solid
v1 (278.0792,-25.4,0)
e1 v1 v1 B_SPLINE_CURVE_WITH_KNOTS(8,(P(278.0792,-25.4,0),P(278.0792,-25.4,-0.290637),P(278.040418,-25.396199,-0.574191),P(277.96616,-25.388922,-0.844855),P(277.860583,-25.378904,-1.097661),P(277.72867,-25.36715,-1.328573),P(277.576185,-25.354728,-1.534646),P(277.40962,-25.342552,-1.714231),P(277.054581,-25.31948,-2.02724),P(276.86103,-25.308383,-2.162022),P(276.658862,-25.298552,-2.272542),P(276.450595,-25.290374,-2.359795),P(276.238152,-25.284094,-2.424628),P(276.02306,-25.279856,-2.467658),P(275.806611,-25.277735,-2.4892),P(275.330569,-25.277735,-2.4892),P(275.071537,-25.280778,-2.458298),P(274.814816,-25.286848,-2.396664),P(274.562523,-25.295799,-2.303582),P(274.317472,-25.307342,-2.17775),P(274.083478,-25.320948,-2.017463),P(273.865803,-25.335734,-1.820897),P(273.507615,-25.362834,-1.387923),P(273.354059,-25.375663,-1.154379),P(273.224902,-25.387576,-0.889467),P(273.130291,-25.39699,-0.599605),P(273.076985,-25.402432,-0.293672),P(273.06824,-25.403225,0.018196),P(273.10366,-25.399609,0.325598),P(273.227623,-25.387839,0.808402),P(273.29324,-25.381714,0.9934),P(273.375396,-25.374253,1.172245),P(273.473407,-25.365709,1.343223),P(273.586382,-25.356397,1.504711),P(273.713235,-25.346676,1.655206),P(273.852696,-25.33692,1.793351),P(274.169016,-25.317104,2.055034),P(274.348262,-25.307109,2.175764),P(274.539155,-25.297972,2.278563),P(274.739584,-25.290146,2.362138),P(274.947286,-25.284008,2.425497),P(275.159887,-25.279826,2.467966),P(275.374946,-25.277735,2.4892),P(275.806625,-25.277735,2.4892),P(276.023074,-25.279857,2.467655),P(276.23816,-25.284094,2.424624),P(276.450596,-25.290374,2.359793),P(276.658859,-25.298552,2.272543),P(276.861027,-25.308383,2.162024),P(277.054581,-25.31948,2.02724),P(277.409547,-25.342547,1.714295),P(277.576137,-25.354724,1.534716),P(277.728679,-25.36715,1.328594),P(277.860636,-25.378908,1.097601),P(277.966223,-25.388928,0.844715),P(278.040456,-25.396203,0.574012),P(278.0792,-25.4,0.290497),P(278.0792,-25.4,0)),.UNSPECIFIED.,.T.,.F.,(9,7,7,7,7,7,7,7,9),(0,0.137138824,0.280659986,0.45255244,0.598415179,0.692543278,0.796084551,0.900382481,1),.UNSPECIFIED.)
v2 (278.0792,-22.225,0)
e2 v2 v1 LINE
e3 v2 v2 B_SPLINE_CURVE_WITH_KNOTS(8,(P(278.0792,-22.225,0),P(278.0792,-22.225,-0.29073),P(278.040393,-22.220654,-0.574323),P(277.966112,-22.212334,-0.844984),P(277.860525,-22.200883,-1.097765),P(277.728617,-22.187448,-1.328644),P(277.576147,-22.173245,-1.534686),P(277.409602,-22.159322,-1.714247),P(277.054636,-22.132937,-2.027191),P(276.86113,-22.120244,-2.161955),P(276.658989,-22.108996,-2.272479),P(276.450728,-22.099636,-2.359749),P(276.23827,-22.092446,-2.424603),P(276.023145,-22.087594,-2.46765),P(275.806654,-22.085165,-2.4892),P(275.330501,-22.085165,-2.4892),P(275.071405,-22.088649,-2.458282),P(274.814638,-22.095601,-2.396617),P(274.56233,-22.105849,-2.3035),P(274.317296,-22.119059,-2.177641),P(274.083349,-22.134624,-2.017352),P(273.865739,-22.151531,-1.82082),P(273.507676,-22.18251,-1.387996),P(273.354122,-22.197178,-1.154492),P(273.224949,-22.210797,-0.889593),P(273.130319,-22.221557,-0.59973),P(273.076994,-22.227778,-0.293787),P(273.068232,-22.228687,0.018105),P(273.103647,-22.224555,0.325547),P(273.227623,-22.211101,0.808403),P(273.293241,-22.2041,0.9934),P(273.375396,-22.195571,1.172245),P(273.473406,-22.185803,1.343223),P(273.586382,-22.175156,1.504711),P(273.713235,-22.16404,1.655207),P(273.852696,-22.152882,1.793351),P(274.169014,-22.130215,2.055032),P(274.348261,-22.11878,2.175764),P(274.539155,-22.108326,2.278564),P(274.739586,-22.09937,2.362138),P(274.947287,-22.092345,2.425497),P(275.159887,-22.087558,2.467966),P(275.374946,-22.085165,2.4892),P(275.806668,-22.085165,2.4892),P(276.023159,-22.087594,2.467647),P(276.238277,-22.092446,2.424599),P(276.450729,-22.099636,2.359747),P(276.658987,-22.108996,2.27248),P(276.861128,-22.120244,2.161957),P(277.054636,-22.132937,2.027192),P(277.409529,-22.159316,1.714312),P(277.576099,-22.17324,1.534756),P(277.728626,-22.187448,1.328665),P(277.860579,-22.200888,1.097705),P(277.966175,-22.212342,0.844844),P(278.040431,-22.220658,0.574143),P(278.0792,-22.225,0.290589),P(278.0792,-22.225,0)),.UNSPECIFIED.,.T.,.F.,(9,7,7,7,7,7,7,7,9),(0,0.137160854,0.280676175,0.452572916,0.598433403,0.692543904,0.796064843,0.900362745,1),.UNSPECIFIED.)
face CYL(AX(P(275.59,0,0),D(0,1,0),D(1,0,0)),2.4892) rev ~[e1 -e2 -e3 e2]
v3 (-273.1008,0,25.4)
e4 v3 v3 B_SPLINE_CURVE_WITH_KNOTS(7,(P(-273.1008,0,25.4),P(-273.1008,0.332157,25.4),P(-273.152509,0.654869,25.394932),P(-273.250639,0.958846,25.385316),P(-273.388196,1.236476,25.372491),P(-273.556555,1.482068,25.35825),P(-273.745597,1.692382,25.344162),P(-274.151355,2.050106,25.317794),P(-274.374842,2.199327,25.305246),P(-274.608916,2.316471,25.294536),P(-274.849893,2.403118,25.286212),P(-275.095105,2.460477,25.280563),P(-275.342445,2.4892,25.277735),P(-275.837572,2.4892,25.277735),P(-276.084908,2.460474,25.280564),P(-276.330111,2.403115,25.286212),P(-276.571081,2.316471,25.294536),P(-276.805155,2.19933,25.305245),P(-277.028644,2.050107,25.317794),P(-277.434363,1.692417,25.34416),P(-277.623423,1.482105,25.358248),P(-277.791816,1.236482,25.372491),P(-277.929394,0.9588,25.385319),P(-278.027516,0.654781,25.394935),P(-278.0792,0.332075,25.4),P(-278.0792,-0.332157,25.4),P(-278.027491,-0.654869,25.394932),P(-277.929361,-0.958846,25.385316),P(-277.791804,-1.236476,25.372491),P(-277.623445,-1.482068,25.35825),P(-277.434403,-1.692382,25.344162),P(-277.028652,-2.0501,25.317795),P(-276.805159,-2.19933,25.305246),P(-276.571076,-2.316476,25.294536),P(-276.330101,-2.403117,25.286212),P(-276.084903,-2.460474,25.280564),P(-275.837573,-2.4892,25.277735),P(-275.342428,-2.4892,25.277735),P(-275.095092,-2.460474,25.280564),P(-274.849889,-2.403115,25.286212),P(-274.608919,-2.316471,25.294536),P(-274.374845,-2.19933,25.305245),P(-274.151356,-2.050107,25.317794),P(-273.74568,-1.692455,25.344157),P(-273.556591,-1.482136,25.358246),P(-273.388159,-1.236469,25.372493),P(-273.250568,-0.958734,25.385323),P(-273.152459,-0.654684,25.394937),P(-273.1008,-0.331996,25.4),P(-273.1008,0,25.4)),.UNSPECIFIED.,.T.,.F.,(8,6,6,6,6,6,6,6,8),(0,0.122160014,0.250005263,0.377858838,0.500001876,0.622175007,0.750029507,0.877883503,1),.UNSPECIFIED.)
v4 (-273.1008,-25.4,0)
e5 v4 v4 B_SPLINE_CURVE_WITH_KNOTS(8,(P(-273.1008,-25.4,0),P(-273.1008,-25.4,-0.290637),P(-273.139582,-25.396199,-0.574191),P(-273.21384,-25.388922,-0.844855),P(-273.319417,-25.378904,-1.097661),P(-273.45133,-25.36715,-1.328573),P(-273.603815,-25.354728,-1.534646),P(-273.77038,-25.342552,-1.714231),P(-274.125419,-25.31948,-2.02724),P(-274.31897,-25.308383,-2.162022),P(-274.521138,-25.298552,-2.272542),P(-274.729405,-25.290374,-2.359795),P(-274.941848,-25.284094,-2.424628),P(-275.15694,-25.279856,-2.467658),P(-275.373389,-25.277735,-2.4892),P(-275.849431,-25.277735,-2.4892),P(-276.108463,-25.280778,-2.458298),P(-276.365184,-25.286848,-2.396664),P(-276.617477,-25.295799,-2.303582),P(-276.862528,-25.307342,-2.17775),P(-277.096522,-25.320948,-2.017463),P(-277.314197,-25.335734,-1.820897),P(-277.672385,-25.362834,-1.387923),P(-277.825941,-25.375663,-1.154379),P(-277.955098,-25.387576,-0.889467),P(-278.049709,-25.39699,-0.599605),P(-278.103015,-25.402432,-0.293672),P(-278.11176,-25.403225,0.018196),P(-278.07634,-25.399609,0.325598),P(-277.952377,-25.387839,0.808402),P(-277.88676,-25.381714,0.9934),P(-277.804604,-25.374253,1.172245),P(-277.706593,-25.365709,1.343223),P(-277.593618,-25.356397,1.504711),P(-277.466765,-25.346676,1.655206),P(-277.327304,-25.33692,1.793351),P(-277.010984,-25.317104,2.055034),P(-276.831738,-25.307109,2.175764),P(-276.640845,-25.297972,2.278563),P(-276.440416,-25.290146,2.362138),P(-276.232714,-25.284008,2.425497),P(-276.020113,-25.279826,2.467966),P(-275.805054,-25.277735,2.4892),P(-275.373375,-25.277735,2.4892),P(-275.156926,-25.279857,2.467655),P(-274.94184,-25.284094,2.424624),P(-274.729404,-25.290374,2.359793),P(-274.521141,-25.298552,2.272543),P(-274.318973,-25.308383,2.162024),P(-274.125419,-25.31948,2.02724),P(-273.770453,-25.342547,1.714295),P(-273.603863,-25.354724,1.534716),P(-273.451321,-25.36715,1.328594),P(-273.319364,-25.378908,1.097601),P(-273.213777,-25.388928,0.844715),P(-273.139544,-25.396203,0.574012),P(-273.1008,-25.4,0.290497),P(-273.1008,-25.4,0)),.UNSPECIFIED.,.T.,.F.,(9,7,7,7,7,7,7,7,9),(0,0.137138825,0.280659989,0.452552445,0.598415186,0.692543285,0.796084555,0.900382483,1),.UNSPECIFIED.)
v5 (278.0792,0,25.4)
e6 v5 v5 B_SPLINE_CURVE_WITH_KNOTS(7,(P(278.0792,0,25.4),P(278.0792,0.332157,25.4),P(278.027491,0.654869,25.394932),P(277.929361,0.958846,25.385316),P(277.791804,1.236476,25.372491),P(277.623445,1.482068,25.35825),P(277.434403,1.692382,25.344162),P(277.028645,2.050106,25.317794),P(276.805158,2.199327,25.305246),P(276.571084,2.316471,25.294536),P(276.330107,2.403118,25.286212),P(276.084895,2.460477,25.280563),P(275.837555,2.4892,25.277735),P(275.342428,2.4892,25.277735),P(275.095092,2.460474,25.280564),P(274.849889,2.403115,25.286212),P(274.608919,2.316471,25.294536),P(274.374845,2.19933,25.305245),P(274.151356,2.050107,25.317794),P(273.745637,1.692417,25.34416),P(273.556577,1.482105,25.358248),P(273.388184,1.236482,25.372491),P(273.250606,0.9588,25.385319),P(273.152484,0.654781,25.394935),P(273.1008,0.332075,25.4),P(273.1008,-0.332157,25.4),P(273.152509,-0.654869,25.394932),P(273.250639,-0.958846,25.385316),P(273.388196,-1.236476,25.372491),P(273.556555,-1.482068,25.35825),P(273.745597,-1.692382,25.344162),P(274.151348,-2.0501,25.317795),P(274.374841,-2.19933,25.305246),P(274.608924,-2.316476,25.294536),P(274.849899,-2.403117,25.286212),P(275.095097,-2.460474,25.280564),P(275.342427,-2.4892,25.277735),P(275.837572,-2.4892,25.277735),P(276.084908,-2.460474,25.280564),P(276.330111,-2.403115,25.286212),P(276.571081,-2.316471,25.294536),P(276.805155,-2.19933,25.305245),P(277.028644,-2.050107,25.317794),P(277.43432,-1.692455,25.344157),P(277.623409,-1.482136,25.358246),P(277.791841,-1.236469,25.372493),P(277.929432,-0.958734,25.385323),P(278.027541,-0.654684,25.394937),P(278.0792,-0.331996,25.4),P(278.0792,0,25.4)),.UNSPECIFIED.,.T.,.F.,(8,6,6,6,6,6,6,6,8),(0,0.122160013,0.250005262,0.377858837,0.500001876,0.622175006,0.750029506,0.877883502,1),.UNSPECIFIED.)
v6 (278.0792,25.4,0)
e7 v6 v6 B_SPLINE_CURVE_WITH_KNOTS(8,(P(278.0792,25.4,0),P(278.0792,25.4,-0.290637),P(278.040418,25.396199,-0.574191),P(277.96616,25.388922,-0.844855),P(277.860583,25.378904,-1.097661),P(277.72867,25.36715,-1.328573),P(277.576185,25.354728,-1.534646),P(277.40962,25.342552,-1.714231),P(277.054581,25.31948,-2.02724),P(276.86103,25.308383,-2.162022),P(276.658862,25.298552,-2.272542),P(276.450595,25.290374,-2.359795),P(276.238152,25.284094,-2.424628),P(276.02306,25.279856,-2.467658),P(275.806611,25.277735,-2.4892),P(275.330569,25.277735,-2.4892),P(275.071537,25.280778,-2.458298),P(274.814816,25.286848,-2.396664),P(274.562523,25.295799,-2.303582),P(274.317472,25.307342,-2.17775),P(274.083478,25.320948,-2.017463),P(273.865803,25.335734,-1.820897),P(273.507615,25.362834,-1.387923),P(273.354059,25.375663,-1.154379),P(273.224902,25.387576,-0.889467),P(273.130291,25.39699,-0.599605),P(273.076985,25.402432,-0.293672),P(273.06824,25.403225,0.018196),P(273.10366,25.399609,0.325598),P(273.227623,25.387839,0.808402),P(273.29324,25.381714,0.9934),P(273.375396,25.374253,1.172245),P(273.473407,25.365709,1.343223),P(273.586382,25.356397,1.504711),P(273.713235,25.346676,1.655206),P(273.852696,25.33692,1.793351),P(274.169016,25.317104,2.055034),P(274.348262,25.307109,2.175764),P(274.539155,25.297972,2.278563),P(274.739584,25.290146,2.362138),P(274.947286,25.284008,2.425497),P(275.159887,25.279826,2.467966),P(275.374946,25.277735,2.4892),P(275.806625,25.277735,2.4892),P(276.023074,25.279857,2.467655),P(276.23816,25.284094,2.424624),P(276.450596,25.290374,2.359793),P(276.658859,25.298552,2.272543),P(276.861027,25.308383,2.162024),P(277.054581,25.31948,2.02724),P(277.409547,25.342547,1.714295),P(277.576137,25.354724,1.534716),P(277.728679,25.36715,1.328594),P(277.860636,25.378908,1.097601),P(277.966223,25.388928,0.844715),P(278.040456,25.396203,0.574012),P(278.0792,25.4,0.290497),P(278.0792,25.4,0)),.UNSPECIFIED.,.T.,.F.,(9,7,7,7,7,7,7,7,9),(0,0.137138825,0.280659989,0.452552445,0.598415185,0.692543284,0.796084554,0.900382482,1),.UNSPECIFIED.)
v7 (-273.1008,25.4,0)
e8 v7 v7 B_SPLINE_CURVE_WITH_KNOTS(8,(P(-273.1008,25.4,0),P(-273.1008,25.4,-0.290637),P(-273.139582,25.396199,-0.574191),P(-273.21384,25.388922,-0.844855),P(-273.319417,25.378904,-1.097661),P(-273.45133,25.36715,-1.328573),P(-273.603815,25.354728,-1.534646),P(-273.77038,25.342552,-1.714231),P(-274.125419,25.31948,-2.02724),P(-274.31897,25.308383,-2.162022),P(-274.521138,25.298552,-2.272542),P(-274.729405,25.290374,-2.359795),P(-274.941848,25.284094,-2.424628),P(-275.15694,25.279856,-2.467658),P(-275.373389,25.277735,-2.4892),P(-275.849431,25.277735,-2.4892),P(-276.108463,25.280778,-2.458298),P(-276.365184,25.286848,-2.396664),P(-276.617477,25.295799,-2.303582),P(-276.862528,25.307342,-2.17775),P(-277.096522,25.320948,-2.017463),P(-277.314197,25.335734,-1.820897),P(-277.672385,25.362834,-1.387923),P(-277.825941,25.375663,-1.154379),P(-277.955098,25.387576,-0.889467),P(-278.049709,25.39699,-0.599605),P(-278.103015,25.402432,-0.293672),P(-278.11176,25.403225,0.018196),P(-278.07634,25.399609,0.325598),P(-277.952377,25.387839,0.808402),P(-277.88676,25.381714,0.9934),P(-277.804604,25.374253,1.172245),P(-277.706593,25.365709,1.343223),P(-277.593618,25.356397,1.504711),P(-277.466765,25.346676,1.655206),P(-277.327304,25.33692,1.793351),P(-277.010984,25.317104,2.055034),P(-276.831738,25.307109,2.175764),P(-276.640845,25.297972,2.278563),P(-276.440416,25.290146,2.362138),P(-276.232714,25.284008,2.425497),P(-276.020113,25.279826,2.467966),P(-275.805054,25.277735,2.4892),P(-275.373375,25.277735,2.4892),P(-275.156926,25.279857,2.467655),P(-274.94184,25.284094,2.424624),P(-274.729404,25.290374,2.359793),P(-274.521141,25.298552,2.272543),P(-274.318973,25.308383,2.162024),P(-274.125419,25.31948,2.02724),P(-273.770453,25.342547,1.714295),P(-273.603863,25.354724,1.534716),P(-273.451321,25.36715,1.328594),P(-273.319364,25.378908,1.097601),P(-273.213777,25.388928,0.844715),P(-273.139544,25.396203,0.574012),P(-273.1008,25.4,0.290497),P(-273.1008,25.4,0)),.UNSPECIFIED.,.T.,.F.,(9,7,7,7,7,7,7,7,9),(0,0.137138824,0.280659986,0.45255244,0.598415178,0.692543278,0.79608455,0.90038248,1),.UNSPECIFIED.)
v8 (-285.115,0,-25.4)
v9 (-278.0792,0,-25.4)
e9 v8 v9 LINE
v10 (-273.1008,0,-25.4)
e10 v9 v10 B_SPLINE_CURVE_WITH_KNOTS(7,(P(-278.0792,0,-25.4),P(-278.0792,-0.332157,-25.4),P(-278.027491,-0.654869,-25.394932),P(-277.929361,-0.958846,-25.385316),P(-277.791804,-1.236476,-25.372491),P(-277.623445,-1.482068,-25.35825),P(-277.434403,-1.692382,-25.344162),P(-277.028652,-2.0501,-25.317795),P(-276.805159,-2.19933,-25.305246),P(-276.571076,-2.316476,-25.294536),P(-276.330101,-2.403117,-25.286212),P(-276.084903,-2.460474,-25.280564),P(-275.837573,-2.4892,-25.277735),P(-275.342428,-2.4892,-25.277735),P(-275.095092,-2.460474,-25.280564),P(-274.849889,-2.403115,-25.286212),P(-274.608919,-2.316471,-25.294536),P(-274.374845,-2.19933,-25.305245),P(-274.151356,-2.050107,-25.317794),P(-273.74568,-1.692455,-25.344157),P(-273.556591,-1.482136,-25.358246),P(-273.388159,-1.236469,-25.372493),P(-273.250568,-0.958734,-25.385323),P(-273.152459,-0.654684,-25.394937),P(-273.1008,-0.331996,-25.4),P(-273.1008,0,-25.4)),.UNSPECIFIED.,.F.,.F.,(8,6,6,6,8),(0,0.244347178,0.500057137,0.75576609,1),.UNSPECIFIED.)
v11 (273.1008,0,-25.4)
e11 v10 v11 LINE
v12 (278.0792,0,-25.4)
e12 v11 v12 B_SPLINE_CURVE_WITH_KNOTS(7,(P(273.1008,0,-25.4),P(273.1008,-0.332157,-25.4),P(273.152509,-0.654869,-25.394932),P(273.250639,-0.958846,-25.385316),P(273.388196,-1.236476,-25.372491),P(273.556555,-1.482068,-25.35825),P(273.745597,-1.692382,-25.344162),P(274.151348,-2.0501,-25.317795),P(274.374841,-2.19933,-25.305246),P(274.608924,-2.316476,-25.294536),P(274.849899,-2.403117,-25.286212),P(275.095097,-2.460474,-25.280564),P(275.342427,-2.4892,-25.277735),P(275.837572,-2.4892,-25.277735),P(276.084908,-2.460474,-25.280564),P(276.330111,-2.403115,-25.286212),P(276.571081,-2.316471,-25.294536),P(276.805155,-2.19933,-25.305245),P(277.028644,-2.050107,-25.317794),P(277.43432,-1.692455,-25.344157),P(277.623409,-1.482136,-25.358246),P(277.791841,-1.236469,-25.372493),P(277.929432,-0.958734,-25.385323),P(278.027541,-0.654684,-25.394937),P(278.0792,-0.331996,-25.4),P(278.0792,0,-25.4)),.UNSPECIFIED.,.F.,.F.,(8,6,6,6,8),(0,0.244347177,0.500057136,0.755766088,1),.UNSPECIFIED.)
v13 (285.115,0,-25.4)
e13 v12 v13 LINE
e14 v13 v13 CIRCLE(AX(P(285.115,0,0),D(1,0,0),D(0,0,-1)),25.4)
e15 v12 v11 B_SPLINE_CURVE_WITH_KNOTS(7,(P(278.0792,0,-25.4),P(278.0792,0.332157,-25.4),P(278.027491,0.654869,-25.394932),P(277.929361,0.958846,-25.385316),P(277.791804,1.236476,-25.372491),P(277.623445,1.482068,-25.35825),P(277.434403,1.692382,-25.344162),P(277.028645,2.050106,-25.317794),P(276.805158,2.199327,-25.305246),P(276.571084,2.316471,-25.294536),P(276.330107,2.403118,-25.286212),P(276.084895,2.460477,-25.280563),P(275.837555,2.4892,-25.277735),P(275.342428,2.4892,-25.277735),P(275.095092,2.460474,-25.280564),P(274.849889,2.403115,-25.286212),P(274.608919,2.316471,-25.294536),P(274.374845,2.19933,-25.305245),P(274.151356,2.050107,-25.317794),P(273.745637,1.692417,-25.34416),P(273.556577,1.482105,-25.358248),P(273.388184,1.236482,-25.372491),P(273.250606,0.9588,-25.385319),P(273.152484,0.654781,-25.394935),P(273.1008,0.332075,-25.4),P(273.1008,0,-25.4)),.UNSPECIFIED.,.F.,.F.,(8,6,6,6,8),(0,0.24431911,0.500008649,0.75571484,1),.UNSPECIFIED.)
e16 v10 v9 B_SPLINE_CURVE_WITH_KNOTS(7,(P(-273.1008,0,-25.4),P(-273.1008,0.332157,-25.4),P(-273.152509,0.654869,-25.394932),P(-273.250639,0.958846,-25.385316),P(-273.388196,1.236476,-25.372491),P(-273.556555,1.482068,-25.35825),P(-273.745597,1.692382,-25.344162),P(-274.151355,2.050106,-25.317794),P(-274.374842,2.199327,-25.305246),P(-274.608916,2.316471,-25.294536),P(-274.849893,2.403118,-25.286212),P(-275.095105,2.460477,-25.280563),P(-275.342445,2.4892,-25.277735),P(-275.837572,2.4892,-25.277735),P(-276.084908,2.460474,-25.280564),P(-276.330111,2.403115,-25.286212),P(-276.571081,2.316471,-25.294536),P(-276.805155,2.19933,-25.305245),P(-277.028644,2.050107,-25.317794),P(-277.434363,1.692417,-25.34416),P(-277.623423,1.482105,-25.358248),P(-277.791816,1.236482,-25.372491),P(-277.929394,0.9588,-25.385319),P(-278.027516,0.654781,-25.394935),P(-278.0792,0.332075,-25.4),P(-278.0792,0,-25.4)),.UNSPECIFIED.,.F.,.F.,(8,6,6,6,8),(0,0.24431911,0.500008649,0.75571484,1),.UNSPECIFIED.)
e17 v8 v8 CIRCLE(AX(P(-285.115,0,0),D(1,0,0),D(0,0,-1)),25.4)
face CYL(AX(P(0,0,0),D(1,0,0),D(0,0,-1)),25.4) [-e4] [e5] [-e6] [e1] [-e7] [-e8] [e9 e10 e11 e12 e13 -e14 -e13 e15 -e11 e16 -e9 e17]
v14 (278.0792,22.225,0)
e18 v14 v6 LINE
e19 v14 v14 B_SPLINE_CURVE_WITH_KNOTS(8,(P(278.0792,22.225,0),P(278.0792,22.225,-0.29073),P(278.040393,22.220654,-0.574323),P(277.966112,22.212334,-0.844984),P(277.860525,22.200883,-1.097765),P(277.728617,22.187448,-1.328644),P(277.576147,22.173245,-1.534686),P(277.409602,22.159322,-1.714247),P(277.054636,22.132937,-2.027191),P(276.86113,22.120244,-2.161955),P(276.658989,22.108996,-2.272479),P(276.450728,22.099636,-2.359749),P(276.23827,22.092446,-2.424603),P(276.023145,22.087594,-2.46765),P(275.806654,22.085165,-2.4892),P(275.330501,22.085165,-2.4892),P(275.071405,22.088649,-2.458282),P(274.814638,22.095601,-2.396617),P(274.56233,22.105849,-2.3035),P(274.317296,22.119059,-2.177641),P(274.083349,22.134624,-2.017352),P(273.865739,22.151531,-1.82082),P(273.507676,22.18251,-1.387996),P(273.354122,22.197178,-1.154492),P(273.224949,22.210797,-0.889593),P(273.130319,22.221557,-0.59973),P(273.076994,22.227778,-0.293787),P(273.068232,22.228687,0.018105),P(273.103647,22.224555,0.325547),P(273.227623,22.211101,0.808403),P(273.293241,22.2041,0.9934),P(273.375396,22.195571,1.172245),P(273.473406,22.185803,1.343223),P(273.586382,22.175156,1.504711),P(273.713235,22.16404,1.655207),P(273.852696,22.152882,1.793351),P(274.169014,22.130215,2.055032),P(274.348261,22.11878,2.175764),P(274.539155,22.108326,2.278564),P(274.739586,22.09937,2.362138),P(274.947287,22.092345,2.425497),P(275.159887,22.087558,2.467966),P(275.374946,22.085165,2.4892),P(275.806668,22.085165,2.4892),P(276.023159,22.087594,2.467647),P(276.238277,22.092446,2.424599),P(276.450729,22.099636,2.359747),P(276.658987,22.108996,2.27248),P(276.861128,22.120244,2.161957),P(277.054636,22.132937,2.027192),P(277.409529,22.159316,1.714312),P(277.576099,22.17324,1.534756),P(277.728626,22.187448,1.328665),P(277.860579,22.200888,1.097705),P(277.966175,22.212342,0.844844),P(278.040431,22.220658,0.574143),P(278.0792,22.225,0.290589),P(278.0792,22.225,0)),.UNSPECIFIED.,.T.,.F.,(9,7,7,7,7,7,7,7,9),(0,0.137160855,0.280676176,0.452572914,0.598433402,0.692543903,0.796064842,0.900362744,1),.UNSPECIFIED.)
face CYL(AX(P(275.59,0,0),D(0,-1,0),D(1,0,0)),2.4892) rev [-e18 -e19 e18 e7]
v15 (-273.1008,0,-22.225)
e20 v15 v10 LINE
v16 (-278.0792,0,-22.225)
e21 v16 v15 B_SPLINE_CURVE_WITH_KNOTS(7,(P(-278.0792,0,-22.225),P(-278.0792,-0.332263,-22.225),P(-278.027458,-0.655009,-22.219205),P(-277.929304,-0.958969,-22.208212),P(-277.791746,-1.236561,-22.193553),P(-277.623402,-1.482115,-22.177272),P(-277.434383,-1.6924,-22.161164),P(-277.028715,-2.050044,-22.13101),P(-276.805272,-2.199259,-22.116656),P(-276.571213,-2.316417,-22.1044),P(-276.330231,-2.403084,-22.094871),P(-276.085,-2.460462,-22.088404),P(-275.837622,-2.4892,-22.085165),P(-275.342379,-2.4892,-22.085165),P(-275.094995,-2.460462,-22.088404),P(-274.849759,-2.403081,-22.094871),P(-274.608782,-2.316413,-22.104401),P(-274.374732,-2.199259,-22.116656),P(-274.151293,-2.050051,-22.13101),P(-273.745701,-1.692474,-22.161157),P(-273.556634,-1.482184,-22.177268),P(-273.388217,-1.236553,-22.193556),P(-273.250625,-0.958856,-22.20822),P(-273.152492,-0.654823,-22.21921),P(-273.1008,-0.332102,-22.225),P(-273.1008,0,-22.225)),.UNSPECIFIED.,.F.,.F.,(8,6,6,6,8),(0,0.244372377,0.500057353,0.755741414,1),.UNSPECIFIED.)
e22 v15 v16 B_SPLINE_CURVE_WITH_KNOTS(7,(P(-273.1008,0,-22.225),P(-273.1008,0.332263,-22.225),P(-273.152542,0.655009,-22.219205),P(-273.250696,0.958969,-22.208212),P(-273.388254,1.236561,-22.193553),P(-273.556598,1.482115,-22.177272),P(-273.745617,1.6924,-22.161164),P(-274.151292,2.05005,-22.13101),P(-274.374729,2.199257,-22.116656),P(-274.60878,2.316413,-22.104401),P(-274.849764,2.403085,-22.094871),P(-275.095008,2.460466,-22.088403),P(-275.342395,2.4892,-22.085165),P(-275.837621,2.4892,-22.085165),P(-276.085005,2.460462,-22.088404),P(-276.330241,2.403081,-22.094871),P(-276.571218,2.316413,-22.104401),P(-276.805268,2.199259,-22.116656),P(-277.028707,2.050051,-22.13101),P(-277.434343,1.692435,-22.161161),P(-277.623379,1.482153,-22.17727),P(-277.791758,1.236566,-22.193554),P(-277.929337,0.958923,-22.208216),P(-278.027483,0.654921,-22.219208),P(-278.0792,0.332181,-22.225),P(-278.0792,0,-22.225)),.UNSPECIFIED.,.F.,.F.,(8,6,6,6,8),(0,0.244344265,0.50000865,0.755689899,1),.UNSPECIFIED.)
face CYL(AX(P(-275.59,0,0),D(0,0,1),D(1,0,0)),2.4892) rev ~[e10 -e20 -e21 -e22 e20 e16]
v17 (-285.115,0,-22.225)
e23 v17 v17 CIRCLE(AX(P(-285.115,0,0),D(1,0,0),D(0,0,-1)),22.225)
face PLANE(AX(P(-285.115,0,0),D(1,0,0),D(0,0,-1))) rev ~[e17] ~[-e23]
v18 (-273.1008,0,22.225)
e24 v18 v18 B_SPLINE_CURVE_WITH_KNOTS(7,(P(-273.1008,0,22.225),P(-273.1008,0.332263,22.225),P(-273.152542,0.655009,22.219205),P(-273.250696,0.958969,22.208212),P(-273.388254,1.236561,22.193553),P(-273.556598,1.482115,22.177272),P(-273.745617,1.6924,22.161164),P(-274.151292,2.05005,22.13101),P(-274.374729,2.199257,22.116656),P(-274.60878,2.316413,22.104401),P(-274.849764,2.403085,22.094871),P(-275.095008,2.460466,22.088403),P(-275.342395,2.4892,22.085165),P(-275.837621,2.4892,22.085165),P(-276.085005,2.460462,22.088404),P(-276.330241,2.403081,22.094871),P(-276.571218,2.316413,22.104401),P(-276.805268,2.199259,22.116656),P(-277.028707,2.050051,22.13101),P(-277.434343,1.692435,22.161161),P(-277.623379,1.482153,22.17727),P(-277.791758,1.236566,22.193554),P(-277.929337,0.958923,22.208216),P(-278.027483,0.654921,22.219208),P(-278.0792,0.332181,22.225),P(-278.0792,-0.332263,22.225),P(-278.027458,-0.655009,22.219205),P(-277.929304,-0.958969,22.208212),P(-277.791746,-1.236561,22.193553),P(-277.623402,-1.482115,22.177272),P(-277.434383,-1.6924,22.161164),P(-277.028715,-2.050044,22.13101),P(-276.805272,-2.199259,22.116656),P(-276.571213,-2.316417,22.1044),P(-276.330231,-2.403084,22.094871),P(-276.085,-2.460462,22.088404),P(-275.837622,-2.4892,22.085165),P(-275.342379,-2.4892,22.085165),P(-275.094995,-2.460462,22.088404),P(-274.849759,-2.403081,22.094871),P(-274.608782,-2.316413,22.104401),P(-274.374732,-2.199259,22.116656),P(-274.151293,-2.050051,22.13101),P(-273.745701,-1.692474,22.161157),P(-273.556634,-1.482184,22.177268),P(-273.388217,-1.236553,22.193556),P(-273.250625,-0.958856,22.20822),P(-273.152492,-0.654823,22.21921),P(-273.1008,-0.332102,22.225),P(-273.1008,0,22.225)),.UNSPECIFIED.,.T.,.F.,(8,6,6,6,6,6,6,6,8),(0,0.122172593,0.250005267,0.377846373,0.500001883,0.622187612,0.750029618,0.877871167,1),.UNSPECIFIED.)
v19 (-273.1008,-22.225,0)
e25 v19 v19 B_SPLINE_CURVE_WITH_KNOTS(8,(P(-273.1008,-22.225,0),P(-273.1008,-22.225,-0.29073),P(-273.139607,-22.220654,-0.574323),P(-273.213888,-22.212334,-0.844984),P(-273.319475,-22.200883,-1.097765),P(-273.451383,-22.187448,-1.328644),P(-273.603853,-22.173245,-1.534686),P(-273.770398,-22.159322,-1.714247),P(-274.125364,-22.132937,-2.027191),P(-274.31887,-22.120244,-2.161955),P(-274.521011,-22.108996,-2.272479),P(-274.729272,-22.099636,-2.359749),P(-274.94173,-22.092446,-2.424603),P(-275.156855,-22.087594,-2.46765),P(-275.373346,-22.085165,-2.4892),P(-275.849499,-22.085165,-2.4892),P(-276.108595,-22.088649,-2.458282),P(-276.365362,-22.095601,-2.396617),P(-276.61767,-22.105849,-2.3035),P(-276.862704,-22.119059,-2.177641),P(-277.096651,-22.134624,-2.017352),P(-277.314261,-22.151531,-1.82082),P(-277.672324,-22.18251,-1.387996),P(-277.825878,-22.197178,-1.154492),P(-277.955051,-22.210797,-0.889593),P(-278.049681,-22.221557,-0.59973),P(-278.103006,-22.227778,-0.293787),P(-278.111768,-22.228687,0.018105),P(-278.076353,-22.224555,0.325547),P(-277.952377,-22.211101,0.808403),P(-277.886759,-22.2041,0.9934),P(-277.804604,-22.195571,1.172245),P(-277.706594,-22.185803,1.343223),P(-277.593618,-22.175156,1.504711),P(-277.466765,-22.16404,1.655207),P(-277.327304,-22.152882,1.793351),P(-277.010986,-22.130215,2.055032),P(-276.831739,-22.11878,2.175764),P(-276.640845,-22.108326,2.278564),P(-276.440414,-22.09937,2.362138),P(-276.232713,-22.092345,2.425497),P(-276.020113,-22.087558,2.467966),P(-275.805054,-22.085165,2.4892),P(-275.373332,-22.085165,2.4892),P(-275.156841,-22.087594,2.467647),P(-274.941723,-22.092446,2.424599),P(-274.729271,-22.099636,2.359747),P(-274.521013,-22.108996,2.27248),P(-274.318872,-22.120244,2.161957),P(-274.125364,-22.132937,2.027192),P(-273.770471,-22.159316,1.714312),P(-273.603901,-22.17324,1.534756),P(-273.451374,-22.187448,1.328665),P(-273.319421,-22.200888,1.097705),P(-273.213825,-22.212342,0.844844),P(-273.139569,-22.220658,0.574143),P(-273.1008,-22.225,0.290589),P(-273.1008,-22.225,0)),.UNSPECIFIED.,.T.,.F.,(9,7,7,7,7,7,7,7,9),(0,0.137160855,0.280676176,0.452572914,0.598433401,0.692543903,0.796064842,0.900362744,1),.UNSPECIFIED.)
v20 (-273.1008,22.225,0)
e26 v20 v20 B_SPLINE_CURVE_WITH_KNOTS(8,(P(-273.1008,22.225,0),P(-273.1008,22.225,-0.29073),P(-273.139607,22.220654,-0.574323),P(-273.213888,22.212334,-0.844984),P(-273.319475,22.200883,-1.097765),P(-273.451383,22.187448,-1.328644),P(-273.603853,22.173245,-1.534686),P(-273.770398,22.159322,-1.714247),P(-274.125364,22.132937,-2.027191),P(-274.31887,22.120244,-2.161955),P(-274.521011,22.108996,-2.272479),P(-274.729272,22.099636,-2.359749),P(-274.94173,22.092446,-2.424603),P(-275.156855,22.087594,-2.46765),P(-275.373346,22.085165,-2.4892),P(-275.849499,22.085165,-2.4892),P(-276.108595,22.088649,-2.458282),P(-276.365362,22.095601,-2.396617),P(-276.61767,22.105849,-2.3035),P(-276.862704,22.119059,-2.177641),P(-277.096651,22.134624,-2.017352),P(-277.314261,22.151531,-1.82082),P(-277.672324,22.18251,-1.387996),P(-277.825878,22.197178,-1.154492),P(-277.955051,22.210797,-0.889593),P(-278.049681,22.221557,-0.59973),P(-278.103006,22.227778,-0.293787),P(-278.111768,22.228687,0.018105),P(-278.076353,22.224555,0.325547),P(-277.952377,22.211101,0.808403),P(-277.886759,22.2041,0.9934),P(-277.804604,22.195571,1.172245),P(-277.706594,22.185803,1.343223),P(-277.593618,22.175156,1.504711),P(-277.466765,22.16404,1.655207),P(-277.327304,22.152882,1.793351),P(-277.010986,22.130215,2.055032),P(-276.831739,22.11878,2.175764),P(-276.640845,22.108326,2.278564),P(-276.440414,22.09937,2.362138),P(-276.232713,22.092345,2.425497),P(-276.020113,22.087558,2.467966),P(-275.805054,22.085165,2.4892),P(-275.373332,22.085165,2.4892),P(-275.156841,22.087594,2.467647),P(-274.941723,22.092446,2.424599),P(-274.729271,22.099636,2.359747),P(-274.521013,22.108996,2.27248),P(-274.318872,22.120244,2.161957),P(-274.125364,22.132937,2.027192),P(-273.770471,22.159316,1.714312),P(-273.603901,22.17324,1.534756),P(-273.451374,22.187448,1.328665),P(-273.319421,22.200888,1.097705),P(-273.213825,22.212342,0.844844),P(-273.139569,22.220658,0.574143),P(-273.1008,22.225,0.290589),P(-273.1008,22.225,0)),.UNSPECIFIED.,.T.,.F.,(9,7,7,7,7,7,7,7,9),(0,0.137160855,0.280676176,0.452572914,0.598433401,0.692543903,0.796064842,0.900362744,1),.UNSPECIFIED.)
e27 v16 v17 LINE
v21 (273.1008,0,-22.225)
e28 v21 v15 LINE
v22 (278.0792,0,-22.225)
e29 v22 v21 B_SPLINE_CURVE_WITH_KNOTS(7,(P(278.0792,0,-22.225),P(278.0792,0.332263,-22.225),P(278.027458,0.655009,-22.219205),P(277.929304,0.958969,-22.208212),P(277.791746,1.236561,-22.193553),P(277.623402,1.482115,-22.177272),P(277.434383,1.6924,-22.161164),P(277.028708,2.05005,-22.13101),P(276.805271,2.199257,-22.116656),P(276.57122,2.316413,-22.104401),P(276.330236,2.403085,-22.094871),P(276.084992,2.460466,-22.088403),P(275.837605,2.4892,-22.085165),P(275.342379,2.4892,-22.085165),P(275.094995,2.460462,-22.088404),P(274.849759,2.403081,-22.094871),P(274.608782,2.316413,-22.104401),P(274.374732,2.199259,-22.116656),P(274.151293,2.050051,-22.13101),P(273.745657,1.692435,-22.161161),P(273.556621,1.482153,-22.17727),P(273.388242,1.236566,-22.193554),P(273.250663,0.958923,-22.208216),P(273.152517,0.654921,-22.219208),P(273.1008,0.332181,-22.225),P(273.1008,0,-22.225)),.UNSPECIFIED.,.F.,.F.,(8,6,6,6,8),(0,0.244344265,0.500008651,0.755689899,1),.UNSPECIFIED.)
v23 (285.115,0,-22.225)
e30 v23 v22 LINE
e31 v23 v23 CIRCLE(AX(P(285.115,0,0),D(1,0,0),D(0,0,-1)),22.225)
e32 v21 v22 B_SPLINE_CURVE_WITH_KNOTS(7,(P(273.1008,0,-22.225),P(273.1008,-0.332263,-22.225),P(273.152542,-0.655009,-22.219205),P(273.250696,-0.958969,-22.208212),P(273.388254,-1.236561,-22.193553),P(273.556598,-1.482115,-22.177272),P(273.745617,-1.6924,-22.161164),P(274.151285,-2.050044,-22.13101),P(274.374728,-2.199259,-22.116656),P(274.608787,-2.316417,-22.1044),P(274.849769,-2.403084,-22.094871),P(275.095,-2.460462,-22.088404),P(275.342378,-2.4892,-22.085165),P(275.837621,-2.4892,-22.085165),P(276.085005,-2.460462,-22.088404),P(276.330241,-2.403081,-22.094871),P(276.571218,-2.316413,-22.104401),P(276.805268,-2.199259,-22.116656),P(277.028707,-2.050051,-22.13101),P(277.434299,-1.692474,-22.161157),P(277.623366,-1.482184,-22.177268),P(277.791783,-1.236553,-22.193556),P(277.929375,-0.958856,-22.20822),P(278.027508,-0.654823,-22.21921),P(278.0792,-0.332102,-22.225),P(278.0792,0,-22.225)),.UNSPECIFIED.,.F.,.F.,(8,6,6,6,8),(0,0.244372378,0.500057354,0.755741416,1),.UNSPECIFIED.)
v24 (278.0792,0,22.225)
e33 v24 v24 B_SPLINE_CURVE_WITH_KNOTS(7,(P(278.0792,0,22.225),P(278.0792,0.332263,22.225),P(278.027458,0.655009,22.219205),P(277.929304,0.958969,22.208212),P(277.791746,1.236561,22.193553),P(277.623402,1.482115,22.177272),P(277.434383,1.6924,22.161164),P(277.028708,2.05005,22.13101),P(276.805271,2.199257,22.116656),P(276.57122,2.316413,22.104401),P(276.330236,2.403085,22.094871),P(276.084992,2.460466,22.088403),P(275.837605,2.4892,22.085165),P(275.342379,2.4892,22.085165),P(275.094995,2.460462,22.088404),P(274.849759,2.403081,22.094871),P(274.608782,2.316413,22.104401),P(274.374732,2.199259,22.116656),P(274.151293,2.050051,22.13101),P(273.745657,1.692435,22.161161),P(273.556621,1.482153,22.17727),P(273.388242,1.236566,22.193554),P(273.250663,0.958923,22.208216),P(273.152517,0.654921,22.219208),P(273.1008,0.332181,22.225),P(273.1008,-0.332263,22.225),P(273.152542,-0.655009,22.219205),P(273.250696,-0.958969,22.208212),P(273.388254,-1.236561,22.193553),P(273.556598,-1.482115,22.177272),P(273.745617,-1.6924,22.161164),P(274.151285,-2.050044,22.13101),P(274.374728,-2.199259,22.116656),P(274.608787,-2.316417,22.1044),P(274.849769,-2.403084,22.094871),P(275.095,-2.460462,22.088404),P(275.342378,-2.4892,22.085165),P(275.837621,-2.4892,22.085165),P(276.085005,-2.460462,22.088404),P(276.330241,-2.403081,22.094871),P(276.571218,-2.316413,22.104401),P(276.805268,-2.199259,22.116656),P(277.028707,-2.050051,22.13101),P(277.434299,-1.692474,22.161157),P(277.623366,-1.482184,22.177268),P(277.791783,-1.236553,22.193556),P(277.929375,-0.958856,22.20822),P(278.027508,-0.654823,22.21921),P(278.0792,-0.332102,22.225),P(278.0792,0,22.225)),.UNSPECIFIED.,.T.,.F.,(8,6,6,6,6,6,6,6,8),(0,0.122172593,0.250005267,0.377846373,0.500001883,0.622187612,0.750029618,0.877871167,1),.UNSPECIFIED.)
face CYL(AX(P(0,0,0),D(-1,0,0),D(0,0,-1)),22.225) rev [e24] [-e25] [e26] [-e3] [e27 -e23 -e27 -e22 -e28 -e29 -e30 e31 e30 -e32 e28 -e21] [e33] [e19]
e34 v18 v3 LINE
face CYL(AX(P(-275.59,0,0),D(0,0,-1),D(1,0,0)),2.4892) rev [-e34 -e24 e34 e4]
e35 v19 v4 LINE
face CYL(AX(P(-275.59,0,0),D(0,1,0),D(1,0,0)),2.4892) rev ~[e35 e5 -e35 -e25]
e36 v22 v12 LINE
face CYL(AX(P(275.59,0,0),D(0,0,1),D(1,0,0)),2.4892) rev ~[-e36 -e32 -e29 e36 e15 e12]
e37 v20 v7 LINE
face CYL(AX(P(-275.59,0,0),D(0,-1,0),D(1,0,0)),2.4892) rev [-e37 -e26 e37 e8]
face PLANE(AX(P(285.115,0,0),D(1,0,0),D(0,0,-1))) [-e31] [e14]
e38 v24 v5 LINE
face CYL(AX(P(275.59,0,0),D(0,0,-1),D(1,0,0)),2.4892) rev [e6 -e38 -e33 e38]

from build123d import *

# Parameters (mm, degrees)
SKETCH1_R               = 25.4
SKETCH1_R_2             = 22.225
BOSS_EXTRUDE1_DEPTH     = 285.115
SKETCH2_R               = 2.4892
CUT_EXTRUDE1_DEPTH      = 26.4
CUT_EXTRUDE1_DEPTH_BACK = 26.4
SKETCH3_R               = 2.4892
CUT_EXTRUDE2_DEPTH      = 26.4000001
CUT_EXTRUDE2_DEPTH_BACK = 26.4000001


with BuildPart() as part:
    # Sketch1 → Boss-Extrude1 (new body, symmetric)
    with BuildSketch(Plane(origin=(0, 0, 0), x_dir=(0, 0, -1), z_dir=(1, 0, 0))):
        Circle(SKETCH1_R)
        Circle(SKETCH1_R_2, mode=Mode.SUBTRACT)
    extrude(amount=BOSS_EXTRUDE1_DEPTH, both=True)

    # Sketch2 → Cut-Extrude1 (cut, two sides)
    with BuildSketch(Plane.XY) as cut_extrude1_sk:
        with Locations((-275.59, 0)):
            Circle(SKETCH2_R)
        with Locations((275.59, 0)):
            Circle(SKETCH2_R)
    extrude(amount=CUT_EXTRUDE1_DEPTH, mode=Mode.SUBTRACT)
    extrude(cut_extrude1_sk.sketch, amount=-CUT_EXTRUDE1_DEPTH_BACK, mode=Mode.SUBTRACT)

    # Sketch3 → Cut-Extrude2 (cut, two sides)
    with BuildSketch(Plane(origin=(0, 0, 0), x_dir=(1, 0, 0), z_dir=(0, 1, 0))) as cut_extrude2_sk:
        with Locations((-275.59, 0)):
            Circle(SKETCH3_R)
        with Locations((275.59, 0)):
            Circle(SKETCH3_R)
    extrude(amount=CUT_EXTRUDE2_DEPTH, mode=Mode.SUBTRACT)
    extrude(cut_extrude2_sk.sketch, amount=-CUT_EXTRUDE2_DEPTH_BACK, mode=Mode.SUBTRACT)


solid = part.part
